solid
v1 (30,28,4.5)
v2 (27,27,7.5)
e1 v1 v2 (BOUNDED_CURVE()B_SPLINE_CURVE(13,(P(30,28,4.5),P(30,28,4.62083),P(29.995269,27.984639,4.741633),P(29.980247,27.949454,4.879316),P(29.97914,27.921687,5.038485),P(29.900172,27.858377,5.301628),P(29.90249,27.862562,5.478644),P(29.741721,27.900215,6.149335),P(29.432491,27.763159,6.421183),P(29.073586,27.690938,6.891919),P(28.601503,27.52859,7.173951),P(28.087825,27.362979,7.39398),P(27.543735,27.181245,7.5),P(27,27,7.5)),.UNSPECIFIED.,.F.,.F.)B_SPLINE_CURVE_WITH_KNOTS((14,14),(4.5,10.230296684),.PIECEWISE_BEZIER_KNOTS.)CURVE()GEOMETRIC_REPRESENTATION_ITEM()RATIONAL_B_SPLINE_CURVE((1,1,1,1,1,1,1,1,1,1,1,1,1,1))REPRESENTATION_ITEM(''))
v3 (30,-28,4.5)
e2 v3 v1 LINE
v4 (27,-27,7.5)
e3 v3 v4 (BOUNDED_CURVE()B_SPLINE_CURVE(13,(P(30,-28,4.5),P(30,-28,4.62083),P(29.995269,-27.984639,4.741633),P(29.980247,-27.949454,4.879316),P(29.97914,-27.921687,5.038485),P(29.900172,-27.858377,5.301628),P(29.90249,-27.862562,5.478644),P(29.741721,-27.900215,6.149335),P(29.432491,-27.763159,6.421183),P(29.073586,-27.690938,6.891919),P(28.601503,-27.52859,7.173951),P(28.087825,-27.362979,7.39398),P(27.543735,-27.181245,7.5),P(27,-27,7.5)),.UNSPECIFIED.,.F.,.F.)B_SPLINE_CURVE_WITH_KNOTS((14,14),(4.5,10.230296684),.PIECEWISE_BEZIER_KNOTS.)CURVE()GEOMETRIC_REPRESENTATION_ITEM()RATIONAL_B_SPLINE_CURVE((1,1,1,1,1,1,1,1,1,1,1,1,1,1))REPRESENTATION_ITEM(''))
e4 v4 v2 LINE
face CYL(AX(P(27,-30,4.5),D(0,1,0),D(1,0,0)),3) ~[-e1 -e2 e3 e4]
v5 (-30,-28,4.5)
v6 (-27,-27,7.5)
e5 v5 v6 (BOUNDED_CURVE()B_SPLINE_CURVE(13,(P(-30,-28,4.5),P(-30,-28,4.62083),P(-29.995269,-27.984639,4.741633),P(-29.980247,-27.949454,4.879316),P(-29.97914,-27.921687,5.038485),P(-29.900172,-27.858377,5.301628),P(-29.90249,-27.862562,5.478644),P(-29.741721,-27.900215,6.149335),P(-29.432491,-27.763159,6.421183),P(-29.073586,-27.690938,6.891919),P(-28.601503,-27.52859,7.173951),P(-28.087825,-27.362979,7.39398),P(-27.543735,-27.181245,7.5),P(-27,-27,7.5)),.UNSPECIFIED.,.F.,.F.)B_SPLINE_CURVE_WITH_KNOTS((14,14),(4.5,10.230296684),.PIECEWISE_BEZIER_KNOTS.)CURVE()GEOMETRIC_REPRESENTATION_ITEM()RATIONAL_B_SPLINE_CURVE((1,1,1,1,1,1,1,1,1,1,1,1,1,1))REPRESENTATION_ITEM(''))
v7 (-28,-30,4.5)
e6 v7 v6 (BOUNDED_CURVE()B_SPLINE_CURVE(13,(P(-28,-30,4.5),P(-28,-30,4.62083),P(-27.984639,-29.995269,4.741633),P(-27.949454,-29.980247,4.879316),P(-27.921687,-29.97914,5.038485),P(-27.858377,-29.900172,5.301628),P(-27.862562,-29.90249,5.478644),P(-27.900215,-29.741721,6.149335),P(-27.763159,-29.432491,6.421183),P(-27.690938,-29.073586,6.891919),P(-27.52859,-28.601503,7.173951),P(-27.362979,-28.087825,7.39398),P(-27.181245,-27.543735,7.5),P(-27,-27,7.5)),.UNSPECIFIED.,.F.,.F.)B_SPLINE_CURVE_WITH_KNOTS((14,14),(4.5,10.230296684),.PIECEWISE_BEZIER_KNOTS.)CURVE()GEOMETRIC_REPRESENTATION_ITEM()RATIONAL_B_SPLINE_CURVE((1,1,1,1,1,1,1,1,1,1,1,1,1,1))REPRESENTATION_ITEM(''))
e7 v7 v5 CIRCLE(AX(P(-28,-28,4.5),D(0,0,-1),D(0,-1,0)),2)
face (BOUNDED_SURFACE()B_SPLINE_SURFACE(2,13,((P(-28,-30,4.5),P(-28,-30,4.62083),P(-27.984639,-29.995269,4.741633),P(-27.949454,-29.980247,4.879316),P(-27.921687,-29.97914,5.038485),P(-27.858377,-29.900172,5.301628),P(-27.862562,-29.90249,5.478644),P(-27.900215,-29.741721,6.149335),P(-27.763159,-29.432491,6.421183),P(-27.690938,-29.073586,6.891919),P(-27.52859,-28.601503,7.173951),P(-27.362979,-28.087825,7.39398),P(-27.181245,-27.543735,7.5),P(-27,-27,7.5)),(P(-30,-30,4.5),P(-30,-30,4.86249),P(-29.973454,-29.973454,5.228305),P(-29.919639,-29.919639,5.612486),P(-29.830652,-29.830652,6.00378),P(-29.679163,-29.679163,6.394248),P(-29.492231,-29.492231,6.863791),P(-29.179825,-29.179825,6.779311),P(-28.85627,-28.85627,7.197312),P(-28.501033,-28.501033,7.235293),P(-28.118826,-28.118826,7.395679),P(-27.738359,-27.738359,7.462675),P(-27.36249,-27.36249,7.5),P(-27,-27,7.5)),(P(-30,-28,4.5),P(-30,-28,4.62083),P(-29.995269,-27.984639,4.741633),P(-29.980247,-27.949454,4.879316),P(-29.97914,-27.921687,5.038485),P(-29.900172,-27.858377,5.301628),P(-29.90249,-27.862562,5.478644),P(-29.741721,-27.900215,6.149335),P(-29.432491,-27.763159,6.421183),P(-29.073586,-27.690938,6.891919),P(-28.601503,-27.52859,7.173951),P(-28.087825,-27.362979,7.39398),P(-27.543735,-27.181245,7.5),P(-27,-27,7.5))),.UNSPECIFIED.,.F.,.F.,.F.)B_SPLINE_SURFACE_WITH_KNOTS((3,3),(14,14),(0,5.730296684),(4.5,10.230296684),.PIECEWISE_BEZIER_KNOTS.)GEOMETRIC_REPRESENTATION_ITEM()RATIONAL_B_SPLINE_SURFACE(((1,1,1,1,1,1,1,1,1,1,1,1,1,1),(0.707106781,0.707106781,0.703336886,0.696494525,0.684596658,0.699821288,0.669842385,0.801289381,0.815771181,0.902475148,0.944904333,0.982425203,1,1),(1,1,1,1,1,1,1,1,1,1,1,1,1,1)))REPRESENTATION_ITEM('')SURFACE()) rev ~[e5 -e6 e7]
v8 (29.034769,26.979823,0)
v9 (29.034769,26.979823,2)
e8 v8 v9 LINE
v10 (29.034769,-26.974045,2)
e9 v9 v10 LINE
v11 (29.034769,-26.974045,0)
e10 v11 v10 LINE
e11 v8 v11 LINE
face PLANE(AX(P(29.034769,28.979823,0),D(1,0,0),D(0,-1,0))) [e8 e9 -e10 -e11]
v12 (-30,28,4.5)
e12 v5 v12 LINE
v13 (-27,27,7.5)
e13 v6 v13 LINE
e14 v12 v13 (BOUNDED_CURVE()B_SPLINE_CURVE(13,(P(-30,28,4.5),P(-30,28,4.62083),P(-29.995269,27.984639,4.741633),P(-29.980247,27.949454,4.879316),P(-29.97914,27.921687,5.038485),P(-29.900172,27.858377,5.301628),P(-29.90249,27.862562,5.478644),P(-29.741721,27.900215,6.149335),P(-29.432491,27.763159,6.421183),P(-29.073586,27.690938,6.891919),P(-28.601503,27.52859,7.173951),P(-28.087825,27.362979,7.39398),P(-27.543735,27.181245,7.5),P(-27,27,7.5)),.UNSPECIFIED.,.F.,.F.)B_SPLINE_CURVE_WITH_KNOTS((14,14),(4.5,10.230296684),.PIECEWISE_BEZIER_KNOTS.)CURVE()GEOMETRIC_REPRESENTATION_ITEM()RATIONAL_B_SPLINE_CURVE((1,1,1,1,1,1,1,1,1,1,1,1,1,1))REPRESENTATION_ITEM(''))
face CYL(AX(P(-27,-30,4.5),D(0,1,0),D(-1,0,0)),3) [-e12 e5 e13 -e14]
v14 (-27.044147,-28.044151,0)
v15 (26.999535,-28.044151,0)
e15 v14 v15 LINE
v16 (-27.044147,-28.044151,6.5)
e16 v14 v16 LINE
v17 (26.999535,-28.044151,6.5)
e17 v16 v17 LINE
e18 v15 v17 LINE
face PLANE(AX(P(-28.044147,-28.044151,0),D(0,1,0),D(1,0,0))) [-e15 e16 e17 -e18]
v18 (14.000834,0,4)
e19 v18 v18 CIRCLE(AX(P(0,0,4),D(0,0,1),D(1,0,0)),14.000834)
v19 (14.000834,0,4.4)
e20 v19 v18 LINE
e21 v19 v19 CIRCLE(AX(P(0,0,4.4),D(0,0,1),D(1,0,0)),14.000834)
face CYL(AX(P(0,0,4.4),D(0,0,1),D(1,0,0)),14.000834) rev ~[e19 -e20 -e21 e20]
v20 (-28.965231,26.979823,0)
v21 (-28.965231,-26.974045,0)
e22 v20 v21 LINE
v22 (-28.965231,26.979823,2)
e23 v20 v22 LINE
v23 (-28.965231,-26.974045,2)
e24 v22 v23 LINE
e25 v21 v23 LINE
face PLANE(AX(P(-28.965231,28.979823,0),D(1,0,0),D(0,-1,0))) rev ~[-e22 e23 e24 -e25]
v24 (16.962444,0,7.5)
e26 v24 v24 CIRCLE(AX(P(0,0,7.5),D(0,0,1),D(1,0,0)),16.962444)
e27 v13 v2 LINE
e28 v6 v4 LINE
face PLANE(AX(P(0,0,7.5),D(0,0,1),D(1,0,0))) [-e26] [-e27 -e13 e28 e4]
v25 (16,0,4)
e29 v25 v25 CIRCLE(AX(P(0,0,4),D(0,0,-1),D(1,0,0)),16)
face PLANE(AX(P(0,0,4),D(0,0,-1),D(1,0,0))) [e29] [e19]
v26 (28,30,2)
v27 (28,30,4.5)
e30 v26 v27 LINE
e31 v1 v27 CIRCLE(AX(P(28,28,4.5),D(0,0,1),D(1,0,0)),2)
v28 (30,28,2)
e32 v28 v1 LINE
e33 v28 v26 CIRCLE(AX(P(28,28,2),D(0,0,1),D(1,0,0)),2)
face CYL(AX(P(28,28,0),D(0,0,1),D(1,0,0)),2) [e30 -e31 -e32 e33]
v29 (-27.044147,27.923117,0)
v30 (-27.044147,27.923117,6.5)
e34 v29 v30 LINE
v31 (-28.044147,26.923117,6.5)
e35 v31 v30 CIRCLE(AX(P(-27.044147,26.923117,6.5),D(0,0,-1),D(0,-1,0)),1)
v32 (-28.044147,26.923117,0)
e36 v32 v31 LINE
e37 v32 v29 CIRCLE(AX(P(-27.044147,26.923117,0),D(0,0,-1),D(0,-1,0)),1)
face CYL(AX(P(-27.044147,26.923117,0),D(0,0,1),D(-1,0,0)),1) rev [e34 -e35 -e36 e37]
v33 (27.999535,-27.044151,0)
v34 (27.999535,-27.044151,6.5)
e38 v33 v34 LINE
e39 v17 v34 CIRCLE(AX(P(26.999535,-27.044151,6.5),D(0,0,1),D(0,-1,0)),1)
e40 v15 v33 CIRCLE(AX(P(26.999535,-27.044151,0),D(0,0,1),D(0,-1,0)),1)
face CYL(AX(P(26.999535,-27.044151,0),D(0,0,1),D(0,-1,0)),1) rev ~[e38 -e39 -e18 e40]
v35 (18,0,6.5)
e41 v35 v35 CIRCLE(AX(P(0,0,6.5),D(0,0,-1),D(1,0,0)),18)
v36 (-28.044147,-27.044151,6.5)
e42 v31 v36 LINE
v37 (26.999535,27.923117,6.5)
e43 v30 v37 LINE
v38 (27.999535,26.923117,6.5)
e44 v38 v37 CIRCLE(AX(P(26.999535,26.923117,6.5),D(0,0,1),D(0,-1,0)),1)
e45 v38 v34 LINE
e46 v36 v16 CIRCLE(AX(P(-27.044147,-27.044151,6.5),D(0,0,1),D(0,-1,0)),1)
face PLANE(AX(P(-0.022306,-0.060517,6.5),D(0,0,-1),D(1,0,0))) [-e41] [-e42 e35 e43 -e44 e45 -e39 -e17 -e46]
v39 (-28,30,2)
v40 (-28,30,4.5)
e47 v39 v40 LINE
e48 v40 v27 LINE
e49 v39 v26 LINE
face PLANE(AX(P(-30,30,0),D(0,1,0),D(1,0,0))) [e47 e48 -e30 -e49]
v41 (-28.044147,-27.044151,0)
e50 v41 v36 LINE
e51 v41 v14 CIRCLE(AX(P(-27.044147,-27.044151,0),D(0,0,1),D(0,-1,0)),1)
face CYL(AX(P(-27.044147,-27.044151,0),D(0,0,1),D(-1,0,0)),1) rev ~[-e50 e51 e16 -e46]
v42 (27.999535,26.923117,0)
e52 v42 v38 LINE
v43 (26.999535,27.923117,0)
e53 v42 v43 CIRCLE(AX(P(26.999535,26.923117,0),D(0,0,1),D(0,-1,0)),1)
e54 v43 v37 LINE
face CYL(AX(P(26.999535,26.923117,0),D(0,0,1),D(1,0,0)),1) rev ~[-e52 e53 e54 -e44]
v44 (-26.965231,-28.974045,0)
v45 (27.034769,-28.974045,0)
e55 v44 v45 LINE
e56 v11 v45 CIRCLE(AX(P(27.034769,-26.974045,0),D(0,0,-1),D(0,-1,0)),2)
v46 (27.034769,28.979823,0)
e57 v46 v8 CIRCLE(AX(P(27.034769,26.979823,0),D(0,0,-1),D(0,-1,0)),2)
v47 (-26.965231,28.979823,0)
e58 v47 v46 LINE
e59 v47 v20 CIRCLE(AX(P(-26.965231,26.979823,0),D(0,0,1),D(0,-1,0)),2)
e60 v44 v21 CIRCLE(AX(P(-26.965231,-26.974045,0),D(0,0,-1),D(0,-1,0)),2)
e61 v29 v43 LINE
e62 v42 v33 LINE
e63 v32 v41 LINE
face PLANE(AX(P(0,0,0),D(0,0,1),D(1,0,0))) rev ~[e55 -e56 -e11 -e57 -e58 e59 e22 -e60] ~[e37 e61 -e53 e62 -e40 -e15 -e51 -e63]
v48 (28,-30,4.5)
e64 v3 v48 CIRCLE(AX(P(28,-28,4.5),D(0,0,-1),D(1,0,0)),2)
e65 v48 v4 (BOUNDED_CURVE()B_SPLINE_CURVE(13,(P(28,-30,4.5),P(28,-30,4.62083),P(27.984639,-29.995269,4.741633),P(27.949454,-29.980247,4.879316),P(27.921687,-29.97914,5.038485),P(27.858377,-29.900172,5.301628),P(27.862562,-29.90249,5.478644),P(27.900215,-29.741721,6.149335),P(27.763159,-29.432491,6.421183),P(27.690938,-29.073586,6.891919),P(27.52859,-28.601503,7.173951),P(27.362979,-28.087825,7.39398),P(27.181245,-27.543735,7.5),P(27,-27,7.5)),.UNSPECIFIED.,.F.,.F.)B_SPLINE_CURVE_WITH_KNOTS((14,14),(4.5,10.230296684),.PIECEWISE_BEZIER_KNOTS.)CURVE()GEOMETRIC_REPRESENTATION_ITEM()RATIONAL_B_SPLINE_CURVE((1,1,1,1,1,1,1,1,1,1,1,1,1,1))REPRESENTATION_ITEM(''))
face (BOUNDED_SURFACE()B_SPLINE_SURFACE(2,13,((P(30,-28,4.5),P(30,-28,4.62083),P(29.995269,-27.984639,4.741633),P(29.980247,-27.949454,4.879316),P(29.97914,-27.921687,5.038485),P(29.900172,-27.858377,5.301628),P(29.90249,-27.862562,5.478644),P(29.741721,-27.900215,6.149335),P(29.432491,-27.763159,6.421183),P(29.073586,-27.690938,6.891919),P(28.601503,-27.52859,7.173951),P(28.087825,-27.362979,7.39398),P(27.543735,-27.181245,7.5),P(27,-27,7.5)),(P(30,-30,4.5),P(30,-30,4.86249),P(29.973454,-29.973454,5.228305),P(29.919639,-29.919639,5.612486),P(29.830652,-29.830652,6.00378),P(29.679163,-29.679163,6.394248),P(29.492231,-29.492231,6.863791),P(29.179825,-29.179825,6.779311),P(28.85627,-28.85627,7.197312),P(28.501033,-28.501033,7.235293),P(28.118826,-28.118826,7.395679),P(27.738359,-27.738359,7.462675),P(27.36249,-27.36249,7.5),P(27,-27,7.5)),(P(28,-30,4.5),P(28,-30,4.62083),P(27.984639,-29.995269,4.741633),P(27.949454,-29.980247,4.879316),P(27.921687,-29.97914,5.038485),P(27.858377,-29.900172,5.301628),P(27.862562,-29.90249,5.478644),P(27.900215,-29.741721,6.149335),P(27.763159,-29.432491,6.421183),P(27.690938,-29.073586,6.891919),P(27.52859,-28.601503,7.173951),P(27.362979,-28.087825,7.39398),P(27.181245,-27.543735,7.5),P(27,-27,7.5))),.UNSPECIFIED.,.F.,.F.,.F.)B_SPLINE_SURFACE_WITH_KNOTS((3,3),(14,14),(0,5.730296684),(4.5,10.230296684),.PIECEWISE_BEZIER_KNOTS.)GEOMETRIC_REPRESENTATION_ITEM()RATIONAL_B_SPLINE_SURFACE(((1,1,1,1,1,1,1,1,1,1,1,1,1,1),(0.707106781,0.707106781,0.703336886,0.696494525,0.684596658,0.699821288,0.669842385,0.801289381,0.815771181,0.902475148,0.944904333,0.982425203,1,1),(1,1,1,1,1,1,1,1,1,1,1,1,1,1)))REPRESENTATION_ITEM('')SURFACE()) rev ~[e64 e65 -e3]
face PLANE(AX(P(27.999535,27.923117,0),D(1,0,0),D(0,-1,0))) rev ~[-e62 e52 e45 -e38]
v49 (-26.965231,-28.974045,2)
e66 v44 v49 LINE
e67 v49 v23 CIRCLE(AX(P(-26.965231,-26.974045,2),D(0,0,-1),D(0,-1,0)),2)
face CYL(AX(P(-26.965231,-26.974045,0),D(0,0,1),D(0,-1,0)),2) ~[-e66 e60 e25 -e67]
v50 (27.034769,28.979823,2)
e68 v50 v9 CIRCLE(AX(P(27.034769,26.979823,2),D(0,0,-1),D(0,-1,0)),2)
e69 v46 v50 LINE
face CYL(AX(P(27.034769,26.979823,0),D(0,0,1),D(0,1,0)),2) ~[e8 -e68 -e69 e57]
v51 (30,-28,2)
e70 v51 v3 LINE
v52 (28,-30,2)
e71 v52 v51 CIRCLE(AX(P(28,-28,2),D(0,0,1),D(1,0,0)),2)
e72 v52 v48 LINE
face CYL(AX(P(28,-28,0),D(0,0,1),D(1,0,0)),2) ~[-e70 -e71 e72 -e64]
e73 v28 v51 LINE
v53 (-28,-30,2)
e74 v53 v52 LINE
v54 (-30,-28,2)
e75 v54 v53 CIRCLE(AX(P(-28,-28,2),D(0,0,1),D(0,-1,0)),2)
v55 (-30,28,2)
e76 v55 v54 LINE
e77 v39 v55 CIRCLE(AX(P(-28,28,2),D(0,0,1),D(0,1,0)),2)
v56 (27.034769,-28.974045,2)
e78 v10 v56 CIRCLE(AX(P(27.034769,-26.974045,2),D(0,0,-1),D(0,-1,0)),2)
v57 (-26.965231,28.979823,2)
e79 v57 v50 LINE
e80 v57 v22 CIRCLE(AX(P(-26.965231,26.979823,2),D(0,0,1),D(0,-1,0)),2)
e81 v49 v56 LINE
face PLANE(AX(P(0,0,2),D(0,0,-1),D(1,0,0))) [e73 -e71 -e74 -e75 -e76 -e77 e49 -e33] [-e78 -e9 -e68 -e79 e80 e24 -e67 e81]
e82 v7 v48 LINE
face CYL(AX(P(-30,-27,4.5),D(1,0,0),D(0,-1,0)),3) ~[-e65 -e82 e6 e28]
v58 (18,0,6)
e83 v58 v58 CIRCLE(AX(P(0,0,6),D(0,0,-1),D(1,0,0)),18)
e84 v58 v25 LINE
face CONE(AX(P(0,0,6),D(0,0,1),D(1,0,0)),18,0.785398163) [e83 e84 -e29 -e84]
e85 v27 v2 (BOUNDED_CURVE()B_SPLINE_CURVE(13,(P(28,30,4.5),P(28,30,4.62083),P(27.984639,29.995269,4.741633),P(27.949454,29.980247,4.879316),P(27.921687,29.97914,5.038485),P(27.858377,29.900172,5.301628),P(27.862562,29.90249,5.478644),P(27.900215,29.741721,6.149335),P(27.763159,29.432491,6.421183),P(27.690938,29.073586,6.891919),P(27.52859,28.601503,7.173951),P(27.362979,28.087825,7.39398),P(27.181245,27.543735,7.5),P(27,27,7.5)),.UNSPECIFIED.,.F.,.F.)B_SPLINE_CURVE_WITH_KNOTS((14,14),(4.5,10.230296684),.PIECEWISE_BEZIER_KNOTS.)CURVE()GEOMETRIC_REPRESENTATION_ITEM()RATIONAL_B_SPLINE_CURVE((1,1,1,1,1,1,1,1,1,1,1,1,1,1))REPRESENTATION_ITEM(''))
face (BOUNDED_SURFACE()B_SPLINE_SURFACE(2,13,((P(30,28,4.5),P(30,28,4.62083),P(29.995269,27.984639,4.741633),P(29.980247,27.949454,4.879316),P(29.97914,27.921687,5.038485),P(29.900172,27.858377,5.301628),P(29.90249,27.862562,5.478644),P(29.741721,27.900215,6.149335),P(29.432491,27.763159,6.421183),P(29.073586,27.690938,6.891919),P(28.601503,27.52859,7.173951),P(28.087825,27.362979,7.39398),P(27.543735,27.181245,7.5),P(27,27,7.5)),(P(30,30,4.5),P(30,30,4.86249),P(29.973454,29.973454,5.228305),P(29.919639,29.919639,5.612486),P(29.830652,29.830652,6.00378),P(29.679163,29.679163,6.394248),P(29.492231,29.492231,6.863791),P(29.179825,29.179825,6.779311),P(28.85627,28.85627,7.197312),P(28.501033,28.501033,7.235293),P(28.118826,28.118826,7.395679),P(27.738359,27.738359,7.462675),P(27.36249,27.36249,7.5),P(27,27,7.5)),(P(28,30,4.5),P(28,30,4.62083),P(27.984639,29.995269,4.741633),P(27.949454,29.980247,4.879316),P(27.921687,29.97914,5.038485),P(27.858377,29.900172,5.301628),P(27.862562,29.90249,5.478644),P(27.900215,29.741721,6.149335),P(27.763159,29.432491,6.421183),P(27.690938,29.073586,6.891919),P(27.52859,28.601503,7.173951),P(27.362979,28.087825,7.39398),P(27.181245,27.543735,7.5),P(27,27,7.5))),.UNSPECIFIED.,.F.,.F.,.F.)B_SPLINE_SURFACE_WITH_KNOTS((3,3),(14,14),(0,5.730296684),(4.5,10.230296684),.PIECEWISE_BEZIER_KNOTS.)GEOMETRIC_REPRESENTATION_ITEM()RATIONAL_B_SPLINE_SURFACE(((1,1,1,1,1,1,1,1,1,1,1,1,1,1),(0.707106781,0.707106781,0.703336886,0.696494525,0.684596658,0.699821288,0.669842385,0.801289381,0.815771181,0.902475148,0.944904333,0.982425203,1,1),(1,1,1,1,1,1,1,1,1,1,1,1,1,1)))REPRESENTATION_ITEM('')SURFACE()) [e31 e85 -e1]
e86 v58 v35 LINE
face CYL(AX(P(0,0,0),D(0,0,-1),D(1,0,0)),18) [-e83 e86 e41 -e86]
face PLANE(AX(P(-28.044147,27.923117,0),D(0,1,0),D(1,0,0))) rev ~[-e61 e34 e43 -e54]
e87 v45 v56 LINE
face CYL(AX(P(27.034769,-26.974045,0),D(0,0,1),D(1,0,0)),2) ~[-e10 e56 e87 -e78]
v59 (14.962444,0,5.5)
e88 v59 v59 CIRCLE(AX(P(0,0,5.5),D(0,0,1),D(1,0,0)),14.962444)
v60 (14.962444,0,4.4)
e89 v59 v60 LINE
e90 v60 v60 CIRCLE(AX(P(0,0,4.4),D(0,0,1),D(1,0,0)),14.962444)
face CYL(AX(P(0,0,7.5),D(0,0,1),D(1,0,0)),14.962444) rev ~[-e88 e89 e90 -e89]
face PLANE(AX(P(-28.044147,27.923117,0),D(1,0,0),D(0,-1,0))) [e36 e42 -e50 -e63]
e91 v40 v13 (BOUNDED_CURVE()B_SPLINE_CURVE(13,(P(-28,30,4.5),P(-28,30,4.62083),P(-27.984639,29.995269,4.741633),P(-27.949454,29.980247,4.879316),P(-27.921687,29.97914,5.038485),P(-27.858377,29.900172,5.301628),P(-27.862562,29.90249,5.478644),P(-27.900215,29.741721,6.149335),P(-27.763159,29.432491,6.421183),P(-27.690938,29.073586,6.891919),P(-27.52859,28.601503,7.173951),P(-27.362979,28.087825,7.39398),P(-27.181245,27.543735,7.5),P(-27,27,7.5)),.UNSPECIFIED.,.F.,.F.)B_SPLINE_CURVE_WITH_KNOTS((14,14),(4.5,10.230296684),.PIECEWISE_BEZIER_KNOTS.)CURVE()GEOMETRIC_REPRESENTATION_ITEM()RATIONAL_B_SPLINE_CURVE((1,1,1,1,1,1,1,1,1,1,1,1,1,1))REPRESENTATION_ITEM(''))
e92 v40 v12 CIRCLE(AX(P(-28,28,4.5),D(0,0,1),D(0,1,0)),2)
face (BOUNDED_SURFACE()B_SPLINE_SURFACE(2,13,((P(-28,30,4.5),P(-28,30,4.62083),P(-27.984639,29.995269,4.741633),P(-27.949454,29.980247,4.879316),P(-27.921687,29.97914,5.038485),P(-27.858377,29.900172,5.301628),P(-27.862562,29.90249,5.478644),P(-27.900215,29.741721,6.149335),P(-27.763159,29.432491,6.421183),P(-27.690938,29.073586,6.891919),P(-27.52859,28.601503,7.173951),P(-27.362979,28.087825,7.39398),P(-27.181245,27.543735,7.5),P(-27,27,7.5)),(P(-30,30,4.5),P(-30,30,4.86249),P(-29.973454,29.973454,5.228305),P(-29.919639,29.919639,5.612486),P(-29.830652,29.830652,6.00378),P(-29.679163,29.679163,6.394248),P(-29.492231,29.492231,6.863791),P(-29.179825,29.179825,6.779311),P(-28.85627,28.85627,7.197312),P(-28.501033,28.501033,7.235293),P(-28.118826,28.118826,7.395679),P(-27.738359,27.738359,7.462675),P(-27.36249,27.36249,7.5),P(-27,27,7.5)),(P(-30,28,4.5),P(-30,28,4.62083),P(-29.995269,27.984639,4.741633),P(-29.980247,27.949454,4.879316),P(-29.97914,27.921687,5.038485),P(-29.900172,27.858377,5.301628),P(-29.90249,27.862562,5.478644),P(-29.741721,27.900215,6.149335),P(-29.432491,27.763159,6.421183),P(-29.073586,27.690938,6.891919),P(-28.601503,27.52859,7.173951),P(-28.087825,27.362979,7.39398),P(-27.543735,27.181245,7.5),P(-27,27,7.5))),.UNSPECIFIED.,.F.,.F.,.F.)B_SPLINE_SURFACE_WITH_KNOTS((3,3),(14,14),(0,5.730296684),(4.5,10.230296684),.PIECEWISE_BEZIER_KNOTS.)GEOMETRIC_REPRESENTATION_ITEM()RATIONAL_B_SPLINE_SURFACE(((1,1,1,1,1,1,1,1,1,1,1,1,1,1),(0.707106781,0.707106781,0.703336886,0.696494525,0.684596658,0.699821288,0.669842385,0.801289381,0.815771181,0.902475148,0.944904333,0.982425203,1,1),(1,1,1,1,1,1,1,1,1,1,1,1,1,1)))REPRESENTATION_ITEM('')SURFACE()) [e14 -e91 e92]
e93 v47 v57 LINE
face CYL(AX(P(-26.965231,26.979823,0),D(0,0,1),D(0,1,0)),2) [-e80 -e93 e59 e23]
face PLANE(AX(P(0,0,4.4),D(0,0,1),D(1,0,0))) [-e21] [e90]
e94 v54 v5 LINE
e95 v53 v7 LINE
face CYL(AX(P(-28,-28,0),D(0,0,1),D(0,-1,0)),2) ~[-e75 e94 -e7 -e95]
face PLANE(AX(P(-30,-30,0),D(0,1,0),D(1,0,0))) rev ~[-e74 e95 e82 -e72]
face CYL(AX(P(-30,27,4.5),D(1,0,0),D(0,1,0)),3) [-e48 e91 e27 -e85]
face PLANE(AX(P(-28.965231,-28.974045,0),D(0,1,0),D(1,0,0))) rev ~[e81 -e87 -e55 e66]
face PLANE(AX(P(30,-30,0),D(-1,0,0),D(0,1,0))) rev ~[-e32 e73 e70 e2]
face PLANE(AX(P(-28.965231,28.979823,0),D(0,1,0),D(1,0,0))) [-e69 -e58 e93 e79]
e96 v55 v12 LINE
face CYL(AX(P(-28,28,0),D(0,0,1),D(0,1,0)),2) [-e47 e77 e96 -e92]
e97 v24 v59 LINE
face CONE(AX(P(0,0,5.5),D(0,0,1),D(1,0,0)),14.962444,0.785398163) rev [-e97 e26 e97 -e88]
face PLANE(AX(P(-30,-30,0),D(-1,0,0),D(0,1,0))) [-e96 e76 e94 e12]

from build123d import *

# Parameters (mm, degrees)
SKETCH_W        = 60
SKETCH_H        = 60
PAD_DEPTH       = 7.5
FILLET_R        = 3
SKETCH001_R     = 14.962444
POCKET_DEPTH    = 3.1
CHAMFER_SIZE    = 2
SKETCH002_R     = 14.000834
POCKET001_DEPTH = 2
FILLET001_R     = 2
SKETCH003_W     = 56.043682
SKETCH003_H     = 55.967268
SKETCH003_R     = 18
POCKET002_DEPTH = 6.5
FILLET002_R     = 1
SKETCH004_R     = 18
POCKET003_DEPTH = 4
CHAMFER001_SIZE = 2
SKETCH005_W     = 60
SKETCH005_H     = 60
SKETCH005_W_2   = 58
SKETCH005_H_2   = 57.953869
POCKET004_DEPTH = 2
FILLET003_R     = 2


with BuildPart() as part:
    # Sketch → Pad (new body)
    with BuildSketch(Plane.XY):
        Rectangle(SKETCH_W, SKETCH_H)
    extrude(amount=PAD_DEPTH)

    # Fillet
    fillet_edges = [part.edges().sort_by_distance(p)[0] for p in [
        (30, 0, 7.5),
        (0, 30, 7.5),
        (-30, 0, 7.5),
        (0, -30, 7.5),
    ]]
    fillet(fillet_edges, radius=FILLET_R)

    # Sketch001 → Pocket (cut)
    with BuildSketch(Plane.XY.offset(7.5)):
        Circle(SKETCH001_R)
    extrude(amount=-POCKET_DEPTH, mode=Mode.SUBTRACT)

    # Chamfer
    chamfer_edges = [part.edges().sort_by_distance(p)[0] for p in [
        (-14.962444, 0, 7.5),
    ]]
    chamfer(chamfer_edges, length=CHAMFER_SIZE)

    # Sketch002 → Pocket001 (cut)
    with BuildSketch(Plane.XY.offset(4.4)):
        Circle(SKETCH002_R)
    extrude(amount=-POCKET001_DEPTH, mode=Mode.SUBTRACT)

    # Fillet001
    fillet001_edges = [part.edges().sort_by_distance(p)[0] for p in [
        (-30, -30, 2.25),
        (30, -30, 2.25),
        (30, 30, 2.25),
        (-30, 30, 2.25),
    ]]
    fillet(fillet001_edges, radius=FILLET001_R)

    # Sketch003 → Pocket002 (cut)
    with BuildSketch(Plane(origin=(0, 0, 0), x_dir=(1, 0, 0), z_dir=(0, 0, -1))):
        with Locations((-0.022306, 0.060517)):
            Rectangle(SKETCH003_W, SKETCH003_H)
        Circle(SKETCH003_R, mode=Mode.SUBTRACT)
    extrude(amount=-POCKET002_DEPTH, mode=Mode.SUBTRACT)

    # Fillet002
    fillet002_edges = [part.edges().sort_by_distance(p)[0] for p in [
        (27.999535, 27.923117, 3.25),
        (-28.044147, 27.923117, 3.25),
        (-28.044147, -28.044151, 3.25),
        (27.999535, -28.044151, 3.25),
    ]]
    fillet(fillet002_edges, radius=FILLET002_R)

    # Sketch004 → Pocket003 (cut)
    with BuildSketch(Plane(origin=(0, 0, 0), x_dir=(1, 0, 0), z_dir=(0, 0, -1))):
        Circle(SKETCH004_R)
    extrude(amount=-POCKET003_DEPTH, mode=Mode.SUBTRACT)

    # Chamfer001
    chamfer001_edges = [part.edges().sort_by_distance(p)[0] for p in [
        (-18, 0, 4),
    ]]
    chamfer(chamfer001_edges, length=CHAMFER001_SIZE)

    # Sketch005 → Pocket004 (cut)
    with BuildSketch(Plane(origin=(0, 0, 0), x_dir=(1, 0, 0), z_dir=(0, 0, -1))):
        Rectangle(SKETCH005_W, SKETCH005_H)
        with Locations((0.034769, -0.002889)):
            Rectangle(SKETCH005_W_2, SKETCH005_H_2, mode=Mode.SUBTRACT)
    extrude(amount=-POCKET004_DEPTH, mode=Mode.SUBTRACT)

    # Fillet003
    fillet003_edges = [part.edges().sort_by_distance(p)[0] for p in [
        (-28.965231, 28.979824, 1),
        (-28.965231, -28.974045, 1),
        (29.034769, -28.974045, 1),
        (29.034769, 28.979824, 1),
    ]]
    fillet(fillet003_edges, radius=FILLET003_R)


solid = part.part
